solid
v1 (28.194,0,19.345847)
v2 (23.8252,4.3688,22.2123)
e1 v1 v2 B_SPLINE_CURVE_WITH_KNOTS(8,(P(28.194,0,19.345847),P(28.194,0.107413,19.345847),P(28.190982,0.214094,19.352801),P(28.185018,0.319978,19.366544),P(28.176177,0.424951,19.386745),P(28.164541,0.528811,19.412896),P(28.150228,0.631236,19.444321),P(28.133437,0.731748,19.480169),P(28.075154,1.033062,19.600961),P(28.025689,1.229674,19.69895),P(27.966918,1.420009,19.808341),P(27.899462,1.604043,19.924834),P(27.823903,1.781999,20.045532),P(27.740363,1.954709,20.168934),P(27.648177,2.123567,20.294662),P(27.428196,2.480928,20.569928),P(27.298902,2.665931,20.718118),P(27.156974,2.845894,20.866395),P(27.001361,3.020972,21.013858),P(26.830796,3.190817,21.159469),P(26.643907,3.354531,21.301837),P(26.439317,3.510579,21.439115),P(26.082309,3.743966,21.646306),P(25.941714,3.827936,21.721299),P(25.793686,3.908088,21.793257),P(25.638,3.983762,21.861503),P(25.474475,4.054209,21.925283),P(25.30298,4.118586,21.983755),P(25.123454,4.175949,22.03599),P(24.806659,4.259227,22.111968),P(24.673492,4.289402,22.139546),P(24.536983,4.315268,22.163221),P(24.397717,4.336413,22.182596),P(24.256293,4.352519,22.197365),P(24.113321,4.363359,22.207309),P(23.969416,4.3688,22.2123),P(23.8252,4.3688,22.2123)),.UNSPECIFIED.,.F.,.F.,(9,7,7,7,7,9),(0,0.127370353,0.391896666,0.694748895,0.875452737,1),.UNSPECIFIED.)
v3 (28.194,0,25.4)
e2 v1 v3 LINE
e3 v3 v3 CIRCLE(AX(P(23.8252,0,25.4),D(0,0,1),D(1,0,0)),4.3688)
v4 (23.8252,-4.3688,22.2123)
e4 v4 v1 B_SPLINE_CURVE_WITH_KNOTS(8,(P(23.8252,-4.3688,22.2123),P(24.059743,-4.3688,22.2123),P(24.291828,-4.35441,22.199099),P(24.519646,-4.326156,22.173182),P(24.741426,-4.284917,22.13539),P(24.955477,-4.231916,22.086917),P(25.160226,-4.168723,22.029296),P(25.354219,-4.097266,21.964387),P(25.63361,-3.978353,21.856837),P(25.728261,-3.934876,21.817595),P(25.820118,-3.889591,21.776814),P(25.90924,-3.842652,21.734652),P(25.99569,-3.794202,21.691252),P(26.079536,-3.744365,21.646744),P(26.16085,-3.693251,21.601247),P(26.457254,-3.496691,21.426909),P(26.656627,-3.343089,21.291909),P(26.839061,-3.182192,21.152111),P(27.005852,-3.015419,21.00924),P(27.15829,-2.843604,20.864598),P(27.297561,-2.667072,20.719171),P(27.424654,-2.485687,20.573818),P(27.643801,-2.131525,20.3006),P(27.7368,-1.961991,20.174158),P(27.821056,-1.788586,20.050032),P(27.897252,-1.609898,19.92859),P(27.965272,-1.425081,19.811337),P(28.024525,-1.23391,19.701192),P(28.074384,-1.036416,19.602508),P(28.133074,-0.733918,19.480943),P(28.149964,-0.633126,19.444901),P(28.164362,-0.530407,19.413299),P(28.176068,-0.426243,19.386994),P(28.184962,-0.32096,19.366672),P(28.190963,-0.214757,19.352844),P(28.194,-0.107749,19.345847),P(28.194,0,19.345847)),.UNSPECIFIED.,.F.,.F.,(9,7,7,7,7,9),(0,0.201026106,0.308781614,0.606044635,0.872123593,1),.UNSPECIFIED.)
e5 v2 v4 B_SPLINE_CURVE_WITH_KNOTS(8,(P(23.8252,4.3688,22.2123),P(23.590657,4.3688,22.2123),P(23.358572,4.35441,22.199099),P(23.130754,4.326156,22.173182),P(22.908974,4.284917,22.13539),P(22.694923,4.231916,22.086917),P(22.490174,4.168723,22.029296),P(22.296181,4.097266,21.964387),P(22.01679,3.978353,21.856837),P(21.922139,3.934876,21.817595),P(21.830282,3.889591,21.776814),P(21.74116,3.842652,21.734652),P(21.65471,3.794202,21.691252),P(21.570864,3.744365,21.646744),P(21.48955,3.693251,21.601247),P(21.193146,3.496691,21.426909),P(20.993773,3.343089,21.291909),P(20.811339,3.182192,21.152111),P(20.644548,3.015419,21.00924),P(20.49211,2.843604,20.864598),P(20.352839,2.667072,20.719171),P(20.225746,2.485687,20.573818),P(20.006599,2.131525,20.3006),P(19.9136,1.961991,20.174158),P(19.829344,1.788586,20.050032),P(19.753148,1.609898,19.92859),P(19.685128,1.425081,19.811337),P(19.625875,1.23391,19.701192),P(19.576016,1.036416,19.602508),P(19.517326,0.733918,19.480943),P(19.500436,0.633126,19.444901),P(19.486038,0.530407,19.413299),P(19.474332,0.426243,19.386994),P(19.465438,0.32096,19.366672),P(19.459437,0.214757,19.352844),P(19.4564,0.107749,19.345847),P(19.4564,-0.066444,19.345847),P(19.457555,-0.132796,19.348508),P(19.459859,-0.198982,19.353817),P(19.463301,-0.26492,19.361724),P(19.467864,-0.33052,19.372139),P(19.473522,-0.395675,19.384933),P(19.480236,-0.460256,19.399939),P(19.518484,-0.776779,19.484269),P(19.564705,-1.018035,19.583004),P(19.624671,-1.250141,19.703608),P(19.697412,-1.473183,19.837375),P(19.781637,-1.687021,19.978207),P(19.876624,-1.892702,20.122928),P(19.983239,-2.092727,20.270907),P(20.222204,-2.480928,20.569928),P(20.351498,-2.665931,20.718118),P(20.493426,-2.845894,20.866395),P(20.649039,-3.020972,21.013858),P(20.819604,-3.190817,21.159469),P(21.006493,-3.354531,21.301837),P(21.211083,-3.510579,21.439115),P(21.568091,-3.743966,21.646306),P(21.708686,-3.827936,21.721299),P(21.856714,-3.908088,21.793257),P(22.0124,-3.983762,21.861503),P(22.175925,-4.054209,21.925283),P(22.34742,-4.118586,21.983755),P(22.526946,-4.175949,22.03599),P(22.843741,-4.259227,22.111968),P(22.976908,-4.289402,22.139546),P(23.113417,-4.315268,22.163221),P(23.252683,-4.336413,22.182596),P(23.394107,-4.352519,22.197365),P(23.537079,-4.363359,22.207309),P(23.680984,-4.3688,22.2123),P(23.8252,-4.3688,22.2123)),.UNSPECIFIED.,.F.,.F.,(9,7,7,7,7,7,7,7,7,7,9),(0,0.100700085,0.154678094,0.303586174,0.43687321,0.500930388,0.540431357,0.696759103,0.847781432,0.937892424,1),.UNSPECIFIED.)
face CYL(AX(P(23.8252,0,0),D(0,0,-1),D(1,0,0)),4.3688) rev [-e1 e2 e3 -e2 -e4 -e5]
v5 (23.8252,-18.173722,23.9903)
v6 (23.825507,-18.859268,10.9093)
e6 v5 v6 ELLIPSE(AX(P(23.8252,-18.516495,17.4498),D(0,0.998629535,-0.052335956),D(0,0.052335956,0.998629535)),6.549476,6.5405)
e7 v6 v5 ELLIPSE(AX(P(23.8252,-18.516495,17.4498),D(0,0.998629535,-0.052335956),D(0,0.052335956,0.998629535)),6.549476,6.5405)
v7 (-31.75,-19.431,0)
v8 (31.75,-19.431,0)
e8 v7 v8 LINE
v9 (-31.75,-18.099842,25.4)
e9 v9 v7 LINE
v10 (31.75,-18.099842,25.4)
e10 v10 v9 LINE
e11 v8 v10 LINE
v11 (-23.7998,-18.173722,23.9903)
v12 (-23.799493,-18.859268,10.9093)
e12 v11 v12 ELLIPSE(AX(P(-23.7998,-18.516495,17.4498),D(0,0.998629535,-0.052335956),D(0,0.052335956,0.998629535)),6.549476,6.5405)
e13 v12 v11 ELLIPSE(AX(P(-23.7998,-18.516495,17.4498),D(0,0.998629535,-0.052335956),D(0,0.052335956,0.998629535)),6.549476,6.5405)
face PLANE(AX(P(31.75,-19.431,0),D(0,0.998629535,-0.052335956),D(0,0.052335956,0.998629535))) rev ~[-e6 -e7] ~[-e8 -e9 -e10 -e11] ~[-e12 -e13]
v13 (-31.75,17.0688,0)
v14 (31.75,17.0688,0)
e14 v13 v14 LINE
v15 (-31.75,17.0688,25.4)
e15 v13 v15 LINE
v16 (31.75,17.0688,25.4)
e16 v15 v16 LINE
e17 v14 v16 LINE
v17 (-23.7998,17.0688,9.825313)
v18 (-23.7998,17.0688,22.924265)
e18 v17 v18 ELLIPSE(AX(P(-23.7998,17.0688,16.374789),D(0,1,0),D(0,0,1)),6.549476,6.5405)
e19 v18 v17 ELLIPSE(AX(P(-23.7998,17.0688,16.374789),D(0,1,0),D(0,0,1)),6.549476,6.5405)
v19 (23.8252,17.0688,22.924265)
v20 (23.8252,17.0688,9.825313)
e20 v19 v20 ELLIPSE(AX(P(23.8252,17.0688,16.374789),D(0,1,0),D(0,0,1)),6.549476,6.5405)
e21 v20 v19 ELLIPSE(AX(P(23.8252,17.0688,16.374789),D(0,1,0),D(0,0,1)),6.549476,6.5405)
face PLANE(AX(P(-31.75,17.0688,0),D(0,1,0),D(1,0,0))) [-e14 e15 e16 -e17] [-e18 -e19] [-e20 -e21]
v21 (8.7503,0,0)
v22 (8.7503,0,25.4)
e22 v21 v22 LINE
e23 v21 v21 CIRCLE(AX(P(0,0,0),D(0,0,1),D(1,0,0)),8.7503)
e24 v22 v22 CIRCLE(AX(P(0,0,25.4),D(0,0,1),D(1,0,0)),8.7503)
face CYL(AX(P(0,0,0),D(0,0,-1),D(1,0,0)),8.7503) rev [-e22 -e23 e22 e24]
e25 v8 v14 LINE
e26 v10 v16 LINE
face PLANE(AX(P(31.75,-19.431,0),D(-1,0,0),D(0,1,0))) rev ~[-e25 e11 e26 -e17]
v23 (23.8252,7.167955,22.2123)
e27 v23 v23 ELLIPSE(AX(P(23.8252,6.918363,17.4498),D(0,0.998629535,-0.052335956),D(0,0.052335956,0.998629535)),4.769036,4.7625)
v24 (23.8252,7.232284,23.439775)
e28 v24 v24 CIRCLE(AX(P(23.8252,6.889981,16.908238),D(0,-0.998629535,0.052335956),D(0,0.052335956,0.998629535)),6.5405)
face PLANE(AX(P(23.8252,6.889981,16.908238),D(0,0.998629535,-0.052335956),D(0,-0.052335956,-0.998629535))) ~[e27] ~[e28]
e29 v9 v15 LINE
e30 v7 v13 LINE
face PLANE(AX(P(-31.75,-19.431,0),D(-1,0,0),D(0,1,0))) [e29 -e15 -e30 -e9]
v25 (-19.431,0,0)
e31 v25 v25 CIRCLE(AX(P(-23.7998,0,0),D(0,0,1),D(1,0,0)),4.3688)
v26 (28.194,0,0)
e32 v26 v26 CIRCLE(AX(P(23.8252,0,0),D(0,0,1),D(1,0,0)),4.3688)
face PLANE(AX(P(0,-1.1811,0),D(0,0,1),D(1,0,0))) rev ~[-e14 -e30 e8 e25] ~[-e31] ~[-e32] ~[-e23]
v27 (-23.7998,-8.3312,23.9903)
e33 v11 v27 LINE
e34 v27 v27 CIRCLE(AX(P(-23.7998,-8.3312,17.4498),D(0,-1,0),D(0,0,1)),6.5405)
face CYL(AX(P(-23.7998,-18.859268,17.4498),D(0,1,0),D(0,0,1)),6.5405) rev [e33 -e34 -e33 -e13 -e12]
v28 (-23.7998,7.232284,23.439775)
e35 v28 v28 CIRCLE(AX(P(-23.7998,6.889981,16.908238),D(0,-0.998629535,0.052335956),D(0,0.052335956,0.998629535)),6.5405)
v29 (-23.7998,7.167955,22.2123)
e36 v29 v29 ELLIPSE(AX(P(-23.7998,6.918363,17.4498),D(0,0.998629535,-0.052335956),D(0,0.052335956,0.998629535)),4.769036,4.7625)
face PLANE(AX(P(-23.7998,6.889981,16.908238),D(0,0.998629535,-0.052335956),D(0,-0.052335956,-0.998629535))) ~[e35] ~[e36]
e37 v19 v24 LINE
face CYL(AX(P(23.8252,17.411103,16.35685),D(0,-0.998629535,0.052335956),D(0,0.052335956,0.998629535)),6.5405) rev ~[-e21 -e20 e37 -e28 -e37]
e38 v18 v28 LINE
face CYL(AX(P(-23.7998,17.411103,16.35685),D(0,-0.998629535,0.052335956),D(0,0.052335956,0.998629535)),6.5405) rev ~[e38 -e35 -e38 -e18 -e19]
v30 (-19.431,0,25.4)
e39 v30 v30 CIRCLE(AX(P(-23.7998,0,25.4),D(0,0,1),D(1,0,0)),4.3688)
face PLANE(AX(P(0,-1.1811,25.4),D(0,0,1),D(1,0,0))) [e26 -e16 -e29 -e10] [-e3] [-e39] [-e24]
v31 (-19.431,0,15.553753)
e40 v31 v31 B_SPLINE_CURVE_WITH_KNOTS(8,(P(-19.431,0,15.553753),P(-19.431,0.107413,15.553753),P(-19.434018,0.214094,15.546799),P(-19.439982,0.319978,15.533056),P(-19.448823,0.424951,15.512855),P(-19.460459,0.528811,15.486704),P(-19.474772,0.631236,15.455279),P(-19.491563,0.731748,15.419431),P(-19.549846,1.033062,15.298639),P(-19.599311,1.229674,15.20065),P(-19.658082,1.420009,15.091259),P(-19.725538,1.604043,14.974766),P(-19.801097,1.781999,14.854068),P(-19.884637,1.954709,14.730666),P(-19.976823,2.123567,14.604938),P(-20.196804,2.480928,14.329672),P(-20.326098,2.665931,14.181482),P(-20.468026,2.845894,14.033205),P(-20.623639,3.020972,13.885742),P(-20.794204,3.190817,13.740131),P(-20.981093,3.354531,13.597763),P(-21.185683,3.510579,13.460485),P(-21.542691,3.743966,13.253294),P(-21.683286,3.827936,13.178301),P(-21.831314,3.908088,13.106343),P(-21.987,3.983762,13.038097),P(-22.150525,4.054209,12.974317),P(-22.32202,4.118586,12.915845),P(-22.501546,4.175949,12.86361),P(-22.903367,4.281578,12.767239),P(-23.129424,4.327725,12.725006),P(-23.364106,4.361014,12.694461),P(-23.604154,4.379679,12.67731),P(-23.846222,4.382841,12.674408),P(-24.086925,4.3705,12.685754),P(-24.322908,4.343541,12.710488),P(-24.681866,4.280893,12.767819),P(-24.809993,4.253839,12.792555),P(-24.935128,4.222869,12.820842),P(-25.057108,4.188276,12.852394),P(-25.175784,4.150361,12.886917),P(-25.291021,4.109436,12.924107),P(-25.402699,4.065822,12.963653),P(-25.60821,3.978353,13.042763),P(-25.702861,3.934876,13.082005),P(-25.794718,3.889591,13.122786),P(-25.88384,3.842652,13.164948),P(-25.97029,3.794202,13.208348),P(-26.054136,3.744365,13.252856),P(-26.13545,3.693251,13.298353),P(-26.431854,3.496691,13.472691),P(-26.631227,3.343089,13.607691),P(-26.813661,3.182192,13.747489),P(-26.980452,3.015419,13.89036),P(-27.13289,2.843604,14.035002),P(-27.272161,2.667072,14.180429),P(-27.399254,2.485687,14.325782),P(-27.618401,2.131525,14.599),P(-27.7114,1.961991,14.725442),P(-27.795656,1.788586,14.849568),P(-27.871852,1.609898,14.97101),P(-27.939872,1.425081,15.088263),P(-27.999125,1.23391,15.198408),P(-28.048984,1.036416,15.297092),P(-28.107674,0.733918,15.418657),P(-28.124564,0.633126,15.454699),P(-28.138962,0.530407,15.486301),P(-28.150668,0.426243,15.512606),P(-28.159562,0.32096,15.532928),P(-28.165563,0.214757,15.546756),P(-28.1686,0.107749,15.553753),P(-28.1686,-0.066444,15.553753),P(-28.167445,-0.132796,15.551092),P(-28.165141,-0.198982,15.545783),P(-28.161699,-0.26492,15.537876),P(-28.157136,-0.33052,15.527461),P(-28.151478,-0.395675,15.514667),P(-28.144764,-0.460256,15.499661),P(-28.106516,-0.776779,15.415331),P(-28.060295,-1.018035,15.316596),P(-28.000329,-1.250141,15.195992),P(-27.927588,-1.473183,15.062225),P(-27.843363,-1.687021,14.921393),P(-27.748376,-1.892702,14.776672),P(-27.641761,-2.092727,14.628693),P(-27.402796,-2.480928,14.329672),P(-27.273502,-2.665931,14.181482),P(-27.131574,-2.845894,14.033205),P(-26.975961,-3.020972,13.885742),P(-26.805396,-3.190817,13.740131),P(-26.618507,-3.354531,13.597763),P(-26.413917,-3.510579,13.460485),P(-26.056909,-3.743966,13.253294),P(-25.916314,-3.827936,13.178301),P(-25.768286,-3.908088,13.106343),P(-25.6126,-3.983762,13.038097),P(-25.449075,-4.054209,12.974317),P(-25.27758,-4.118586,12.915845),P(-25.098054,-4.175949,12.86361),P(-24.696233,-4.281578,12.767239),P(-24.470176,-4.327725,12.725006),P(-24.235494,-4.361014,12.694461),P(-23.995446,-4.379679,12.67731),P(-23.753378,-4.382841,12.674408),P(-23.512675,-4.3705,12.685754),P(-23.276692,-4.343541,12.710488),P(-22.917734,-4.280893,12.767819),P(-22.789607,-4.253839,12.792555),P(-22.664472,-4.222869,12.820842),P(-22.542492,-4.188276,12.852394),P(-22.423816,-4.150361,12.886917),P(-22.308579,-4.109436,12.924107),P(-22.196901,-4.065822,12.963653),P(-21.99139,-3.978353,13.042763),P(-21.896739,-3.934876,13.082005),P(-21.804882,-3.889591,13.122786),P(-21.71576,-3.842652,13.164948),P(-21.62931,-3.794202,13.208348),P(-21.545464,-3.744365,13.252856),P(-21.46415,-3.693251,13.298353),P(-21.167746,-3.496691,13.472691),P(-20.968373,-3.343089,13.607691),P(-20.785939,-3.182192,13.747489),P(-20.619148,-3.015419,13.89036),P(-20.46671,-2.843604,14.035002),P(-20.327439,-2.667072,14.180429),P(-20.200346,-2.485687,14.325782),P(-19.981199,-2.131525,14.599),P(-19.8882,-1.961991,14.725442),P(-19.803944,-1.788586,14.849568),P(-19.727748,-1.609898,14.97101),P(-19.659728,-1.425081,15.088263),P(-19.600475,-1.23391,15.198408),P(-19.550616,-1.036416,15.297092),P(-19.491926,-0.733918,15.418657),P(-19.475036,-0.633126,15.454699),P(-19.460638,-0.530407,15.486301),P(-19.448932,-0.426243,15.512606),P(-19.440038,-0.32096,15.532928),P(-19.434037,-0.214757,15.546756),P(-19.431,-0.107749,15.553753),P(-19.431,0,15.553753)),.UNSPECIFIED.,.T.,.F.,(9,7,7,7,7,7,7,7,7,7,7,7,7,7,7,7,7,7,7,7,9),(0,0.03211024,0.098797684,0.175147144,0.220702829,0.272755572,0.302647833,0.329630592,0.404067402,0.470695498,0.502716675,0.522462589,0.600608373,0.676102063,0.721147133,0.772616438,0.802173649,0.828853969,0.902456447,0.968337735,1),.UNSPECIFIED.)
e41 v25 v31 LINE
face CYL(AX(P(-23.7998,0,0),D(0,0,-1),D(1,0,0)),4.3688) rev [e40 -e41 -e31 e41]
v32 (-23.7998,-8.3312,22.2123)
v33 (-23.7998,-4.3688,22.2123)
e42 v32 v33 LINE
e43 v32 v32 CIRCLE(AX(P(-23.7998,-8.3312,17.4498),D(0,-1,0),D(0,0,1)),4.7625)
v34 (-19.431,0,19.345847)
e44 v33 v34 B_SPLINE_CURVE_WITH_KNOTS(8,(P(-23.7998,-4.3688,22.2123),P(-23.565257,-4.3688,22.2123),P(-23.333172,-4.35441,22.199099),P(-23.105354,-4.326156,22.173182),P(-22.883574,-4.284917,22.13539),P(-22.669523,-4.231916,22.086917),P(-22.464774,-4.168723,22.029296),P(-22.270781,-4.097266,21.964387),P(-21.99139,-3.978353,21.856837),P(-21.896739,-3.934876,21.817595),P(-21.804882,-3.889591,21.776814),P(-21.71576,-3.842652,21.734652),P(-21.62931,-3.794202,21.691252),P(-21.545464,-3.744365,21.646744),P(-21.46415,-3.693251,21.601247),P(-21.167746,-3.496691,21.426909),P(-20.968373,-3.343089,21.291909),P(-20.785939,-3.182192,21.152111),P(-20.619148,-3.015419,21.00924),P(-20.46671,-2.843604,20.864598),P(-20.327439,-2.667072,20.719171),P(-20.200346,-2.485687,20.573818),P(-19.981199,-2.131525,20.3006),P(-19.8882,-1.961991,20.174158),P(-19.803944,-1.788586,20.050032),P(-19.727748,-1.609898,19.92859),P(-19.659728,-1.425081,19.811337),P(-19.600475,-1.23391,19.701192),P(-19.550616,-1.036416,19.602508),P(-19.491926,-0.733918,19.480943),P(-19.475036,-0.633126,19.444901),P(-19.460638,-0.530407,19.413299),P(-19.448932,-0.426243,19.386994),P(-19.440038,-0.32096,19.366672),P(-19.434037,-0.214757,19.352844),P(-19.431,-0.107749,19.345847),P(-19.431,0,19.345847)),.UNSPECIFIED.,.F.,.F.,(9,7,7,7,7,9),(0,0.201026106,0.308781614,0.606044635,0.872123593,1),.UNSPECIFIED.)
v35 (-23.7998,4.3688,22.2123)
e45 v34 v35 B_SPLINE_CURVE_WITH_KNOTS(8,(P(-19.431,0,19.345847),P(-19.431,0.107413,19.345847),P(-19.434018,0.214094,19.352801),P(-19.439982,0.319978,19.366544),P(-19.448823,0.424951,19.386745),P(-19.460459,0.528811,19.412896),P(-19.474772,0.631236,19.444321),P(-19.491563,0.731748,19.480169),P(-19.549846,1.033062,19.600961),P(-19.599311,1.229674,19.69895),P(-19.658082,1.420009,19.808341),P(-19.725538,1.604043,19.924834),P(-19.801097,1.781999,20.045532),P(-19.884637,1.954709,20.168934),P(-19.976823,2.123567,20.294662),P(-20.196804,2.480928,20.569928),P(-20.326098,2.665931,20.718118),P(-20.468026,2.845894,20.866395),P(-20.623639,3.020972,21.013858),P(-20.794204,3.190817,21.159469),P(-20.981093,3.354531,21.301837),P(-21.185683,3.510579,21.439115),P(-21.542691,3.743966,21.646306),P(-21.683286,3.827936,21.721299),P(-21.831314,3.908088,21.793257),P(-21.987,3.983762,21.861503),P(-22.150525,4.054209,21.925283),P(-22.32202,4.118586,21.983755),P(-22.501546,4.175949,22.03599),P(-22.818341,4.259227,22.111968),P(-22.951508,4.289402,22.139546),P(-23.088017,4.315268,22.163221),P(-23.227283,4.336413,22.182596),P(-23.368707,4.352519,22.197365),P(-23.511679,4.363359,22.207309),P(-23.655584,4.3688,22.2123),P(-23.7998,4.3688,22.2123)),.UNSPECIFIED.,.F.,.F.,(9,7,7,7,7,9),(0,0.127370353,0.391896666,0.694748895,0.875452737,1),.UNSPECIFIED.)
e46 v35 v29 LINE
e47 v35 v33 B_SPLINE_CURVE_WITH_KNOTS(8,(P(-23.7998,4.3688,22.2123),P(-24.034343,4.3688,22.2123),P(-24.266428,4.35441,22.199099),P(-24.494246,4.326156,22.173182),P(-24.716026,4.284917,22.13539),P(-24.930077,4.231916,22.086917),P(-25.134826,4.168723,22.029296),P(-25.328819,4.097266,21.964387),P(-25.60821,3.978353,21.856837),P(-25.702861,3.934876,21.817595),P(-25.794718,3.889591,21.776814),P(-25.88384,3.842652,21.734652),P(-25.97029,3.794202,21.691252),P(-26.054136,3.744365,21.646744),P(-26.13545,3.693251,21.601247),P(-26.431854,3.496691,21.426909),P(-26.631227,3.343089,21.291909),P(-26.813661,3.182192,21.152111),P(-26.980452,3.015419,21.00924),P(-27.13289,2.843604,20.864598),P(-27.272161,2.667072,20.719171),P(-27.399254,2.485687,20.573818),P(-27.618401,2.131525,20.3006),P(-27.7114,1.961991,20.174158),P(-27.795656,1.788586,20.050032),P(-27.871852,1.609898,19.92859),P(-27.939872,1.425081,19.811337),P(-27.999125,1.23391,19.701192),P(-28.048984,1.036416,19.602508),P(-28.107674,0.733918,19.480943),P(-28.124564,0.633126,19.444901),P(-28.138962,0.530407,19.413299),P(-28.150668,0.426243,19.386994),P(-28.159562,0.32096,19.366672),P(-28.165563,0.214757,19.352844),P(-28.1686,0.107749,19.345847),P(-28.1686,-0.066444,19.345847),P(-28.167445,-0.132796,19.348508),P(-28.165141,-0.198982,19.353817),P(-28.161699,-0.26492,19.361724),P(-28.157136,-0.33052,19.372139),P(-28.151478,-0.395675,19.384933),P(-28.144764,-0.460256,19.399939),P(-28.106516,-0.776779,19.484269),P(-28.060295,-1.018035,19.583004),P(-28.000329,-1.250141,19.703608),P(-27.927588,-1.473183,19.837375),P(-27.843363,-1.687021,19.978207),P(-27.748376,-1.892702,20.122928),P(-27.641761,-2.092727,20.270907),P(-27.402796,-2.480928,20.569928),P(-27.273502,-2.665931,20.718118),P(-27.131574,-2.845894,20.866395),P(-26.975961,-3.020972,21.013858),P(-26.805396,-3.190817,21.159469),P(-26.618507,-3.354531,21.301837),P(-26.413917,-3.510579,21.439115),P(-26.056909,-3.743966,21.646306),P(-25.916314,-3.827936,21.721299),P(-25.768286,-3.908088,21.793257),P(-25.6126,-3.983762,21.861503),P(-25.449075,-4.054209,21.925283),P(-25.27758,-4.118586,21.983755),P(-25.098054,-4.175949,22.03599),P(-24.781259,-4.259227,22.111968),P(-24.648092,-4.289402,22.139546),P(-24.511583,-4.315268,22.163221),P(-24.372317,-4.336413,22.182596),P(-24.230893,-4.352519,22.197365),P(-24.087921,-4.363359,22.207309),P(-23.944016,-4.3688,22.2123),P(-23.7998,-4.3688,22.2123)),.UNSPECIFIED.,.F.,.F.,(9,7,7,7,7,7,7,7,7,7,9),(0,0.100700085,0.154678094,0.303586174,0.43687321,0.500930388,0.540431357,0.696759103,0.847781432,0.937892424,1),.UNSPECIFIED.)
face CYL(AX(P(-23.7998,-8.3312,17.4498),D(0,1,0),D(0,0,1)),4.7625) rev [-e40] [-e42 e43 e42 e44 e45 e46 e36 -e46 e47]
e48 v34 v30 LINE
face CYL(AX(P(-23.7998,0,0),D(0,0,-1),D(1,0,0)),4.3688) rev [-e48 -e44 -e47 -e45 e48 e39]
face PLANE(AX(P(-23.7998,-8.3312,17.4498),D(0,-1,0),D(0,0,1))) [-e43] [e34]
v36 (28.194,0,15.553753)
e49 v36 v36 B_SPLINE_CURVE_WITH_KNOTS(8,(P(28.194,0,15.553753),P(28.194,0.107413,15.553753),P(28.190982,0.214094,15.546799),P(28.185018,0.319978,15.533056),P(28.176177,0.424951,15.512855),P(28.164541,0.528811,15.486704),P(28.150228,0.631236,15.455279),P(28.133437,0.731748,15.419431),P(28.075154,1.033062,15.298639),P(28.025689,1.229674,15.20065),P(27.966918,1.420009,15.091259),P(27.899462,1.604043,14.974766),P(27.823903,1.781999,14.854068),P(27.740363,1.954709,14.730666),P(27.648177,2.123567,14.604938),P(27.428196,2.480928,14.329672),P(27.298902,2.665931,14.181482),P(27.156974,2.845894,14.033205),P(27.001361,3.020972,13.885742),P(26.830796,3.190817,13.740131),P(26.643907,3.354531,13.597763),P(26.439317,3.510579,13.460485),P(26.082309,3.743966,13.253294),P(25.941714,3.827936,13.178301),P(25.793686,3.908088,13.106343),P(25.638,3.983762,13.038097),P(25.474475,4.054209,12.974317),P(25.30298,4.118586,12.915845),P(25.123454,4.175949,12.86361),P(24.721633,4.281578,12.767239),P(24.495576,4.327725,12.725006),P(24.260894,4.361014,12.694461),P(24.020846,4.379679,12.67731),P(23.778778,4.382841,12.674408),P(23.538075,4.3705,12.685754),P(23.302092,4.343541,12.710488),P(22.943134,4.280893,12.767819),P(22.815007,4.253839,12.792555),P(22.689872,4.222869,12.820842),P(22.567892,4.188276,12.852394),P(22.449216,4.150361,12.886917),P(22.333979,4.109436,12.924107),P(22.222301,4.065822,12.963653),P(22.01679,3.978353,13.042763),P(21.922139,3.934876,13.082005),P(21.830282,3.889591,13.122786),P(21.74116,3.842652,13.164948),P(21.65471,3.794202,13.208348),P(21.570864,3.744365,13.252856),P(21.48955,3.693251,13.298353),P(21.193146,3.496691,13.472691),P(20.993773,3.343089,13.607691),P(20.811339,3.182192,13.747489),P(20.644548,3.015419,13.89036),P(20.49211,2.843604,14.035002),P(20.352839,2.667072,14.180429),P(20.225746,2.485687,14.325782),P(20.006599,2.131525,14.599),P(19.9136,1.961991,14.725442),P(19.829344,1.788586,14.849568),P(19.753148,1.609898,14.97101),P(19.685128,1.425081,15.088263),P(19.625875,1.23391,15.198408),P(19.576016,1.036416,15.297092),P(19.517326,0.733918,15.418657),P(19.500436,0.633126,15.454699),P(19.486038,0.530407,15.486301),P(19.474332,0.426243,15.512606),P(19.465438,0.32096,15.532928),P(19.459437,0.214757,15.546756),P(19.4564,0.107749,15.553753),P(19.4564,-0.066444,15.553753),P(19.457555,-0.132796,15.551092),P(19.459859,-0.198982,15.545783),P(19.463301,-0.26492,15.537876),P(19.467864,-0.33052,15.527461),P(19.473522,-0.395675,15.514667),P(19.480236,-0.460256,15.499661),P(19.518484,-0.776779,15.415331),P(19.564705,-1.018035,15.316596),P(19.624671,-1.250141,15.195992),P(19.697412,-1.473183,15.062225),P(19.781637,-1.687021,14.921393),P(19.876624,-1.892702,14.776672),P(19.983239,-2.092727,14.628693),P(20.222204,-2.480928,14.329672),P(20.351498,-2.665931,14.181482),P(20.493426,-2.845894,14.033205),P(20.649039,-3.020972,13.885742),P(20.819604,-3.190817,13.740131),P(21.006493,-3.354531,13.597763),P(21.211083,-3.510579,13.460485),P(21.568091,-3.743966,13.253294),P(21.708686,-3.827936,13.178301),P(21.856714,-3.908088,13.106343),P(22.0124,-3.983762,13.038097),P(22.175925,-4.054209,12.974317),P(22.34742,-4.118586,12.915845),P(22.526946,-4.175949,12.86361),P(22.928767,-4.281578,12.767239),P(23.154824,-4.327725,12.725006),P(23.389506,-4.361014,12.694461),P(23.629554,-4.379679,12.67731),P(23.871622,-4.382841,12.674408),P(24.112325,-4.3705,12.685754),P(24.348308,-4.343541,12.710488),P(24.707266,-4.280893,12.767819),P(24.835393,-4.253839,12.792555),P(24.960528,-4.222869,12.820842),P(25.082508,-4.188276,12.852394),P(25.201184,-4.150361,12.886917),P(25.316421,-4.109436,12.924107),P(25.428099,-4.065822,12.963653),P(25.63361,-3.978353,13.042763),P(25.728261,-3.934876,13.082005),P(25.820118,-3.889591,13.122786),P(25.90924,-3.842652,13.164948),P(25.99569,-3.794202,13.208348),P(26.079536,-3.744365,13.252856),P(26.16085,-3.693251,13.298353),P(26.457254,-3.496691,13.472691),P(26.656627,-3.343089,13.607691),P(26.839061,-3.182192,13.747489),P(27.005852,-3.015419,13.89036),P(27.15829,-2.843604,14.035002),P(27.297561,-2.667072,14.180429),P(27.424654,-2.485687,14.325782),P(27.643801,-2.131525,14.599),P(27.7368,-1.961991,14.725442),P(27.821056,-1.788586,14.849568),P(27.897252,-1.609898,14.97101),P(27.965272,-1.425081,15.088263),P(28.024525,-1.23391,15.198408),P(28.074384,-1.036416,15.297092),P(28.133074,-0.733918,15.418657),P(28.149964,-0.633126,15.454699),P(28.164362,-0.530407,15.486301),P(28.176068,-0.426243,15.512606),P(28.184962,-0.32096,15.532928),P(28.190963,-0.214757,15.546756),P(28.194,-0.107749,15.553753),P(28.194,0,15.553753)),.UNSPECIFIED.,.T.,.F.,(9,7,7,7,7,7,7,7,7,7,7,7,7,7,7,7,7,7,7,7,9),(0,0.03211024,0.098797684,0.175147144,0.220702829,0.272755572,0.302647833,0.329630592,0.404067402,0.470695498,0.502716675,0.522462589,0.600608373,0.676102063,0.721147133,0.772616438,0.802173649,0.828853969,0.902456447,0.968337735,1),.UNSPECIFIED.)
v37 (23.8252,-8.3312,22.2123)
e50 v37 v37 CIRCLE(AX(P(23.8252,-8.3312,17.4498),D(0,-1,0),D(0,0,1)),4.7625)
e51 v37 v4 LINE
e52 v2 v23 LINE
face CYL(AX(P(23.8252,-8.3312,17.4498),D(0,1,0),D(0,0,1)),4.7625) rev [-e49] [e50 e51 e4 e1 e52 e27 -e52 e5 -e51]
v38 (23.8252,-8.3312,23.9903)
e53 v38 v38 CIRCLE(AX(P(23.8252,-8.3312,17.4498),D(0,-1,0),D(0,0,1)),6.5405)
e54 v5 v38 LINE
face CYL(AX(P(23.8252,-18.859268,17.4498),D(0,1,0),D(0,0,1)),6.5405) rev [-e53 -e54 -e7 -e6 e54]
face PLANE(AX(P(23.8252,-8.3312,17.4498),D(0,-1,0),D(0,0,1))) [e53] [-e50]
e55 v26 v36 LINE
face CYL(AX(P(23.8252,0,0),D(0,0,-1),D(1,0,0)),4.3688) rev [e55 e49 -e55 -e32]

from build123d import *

# Parameters (mm, degrees)
SKETCH1_W          = 63.5
SKETCH1_H          = 36.4998
SKETCH1_R          = 8.7503
SKETCH1_R_2        = 4.3688
EXTRUDE1_DEPTH     = 25.4
CUT_EXTRUDE1_DEPTH = 64.5
LPATTERN1_COUNT    = 2
LPATTERN1_PITCH    = 47.625


with BuildPart() as part:
    # Sketch1 → Extrude1 (new body)
    with BuildSketch(Plane.XY):
        with Locations((0, -1.1811)):
            Rectangle(SKETCH1_W, SKETCH1_H)
        Circle(SKETCH1_R, mode=Mode.SUBTRACT)
        with Locations((-23.7998, 0)):
            Circle(SKETCH1_R_2, mode=Mode.SUBTRACT)
        with Locations((23.8252, 0)):
            Circle(SKETCH1_R_2, mode=Mode.SUBTRACT)
    extrude(amount=EXTRUDE1_DEPTH)

    # Sketch2 → Cut-Extrude1 (cut, through all)
    with BuildSketch(Plane(origin=(31.75, 0, 0), x_dir=(0, 0, -1), z_dir=(1, 0, 0))):
        Polygon((0, -19.431), (-25.4, -18.099842406), (-25.4, -19.431), align=None)
    extrude(amount=-CUT_EXTRUDE1_DEPTH, mode=Mode.SUBTRACT)

    # Sketch3 → Cut-Revolve1 (revolve, cut)
    with BuildSketch(Plane(origin=(-23.7998, 0, 0), x_dir=(0, 0, -1), z_dir=(1, 0, 0)), mode=Mode.PRIVATE) as cut_revolve1_sk:
        Polygon((-10.9093, -18.859267813), (-10.9093, -8.3312), (-12.6873, -8.3312), (-12.6873, 17.0688), (-17.4498, 17.0688), (-17.4498, -18.859267813), align=None)
    cut_revolve1 = revolve(cut_revolve1_sk.sketch.rotate(Axis((-23.7998, 16.931830478, 17.4498), (0, -1, 0)), 180), axis=Axis((-23.7998, 16.931830478, 17.4498), (0, -1, 0)), mode=Mode.SUBTRACT)  # turned: the seam where the file's is

    # Sketch4 → Cut-Revolve2 (revolve, cut)
    with BuildSketch(Plane(origin=(-23.7998, 0, 0), x_dir=(0, 0, -1), z_dir=(1, 0, 0)), mode=Mode.PRIVATE) as cut_revolve2_sk:
        Polygon((-9.825313315, 17.0688), (-10.376701981, 6.547677495), (-16.908238453, 6.889980817), (-16.356849787, 17.411103322), align=None)
    cut_revolve2 = revolve(cut_revolve2_sk.sketch.rotate(Axis((-23.7998, 21.413272844, 16.14710497), (0, -0.998629535, 0.052335956)), 180), axis=Axis((-23.7998, 21.413272844, 16.14710497), (0, -0.998629535, 0.052335956)), mode=Mode.SUBTRACT)  # turned: the seam where the file's is

    # LPattern1: Cut-Revolve1, Cut-Revolve2 ×2
    with Locations(*[(i * LPATTERN1_PITCH, 0, 0) for i in range(1, LPATTERN1_COUNT)]):
        add(cut_revolve1, mode=Mode.SUBTRACT)
        add(cut_revolve2, mode=Mode.SUBTRACT)


solid = part.part
